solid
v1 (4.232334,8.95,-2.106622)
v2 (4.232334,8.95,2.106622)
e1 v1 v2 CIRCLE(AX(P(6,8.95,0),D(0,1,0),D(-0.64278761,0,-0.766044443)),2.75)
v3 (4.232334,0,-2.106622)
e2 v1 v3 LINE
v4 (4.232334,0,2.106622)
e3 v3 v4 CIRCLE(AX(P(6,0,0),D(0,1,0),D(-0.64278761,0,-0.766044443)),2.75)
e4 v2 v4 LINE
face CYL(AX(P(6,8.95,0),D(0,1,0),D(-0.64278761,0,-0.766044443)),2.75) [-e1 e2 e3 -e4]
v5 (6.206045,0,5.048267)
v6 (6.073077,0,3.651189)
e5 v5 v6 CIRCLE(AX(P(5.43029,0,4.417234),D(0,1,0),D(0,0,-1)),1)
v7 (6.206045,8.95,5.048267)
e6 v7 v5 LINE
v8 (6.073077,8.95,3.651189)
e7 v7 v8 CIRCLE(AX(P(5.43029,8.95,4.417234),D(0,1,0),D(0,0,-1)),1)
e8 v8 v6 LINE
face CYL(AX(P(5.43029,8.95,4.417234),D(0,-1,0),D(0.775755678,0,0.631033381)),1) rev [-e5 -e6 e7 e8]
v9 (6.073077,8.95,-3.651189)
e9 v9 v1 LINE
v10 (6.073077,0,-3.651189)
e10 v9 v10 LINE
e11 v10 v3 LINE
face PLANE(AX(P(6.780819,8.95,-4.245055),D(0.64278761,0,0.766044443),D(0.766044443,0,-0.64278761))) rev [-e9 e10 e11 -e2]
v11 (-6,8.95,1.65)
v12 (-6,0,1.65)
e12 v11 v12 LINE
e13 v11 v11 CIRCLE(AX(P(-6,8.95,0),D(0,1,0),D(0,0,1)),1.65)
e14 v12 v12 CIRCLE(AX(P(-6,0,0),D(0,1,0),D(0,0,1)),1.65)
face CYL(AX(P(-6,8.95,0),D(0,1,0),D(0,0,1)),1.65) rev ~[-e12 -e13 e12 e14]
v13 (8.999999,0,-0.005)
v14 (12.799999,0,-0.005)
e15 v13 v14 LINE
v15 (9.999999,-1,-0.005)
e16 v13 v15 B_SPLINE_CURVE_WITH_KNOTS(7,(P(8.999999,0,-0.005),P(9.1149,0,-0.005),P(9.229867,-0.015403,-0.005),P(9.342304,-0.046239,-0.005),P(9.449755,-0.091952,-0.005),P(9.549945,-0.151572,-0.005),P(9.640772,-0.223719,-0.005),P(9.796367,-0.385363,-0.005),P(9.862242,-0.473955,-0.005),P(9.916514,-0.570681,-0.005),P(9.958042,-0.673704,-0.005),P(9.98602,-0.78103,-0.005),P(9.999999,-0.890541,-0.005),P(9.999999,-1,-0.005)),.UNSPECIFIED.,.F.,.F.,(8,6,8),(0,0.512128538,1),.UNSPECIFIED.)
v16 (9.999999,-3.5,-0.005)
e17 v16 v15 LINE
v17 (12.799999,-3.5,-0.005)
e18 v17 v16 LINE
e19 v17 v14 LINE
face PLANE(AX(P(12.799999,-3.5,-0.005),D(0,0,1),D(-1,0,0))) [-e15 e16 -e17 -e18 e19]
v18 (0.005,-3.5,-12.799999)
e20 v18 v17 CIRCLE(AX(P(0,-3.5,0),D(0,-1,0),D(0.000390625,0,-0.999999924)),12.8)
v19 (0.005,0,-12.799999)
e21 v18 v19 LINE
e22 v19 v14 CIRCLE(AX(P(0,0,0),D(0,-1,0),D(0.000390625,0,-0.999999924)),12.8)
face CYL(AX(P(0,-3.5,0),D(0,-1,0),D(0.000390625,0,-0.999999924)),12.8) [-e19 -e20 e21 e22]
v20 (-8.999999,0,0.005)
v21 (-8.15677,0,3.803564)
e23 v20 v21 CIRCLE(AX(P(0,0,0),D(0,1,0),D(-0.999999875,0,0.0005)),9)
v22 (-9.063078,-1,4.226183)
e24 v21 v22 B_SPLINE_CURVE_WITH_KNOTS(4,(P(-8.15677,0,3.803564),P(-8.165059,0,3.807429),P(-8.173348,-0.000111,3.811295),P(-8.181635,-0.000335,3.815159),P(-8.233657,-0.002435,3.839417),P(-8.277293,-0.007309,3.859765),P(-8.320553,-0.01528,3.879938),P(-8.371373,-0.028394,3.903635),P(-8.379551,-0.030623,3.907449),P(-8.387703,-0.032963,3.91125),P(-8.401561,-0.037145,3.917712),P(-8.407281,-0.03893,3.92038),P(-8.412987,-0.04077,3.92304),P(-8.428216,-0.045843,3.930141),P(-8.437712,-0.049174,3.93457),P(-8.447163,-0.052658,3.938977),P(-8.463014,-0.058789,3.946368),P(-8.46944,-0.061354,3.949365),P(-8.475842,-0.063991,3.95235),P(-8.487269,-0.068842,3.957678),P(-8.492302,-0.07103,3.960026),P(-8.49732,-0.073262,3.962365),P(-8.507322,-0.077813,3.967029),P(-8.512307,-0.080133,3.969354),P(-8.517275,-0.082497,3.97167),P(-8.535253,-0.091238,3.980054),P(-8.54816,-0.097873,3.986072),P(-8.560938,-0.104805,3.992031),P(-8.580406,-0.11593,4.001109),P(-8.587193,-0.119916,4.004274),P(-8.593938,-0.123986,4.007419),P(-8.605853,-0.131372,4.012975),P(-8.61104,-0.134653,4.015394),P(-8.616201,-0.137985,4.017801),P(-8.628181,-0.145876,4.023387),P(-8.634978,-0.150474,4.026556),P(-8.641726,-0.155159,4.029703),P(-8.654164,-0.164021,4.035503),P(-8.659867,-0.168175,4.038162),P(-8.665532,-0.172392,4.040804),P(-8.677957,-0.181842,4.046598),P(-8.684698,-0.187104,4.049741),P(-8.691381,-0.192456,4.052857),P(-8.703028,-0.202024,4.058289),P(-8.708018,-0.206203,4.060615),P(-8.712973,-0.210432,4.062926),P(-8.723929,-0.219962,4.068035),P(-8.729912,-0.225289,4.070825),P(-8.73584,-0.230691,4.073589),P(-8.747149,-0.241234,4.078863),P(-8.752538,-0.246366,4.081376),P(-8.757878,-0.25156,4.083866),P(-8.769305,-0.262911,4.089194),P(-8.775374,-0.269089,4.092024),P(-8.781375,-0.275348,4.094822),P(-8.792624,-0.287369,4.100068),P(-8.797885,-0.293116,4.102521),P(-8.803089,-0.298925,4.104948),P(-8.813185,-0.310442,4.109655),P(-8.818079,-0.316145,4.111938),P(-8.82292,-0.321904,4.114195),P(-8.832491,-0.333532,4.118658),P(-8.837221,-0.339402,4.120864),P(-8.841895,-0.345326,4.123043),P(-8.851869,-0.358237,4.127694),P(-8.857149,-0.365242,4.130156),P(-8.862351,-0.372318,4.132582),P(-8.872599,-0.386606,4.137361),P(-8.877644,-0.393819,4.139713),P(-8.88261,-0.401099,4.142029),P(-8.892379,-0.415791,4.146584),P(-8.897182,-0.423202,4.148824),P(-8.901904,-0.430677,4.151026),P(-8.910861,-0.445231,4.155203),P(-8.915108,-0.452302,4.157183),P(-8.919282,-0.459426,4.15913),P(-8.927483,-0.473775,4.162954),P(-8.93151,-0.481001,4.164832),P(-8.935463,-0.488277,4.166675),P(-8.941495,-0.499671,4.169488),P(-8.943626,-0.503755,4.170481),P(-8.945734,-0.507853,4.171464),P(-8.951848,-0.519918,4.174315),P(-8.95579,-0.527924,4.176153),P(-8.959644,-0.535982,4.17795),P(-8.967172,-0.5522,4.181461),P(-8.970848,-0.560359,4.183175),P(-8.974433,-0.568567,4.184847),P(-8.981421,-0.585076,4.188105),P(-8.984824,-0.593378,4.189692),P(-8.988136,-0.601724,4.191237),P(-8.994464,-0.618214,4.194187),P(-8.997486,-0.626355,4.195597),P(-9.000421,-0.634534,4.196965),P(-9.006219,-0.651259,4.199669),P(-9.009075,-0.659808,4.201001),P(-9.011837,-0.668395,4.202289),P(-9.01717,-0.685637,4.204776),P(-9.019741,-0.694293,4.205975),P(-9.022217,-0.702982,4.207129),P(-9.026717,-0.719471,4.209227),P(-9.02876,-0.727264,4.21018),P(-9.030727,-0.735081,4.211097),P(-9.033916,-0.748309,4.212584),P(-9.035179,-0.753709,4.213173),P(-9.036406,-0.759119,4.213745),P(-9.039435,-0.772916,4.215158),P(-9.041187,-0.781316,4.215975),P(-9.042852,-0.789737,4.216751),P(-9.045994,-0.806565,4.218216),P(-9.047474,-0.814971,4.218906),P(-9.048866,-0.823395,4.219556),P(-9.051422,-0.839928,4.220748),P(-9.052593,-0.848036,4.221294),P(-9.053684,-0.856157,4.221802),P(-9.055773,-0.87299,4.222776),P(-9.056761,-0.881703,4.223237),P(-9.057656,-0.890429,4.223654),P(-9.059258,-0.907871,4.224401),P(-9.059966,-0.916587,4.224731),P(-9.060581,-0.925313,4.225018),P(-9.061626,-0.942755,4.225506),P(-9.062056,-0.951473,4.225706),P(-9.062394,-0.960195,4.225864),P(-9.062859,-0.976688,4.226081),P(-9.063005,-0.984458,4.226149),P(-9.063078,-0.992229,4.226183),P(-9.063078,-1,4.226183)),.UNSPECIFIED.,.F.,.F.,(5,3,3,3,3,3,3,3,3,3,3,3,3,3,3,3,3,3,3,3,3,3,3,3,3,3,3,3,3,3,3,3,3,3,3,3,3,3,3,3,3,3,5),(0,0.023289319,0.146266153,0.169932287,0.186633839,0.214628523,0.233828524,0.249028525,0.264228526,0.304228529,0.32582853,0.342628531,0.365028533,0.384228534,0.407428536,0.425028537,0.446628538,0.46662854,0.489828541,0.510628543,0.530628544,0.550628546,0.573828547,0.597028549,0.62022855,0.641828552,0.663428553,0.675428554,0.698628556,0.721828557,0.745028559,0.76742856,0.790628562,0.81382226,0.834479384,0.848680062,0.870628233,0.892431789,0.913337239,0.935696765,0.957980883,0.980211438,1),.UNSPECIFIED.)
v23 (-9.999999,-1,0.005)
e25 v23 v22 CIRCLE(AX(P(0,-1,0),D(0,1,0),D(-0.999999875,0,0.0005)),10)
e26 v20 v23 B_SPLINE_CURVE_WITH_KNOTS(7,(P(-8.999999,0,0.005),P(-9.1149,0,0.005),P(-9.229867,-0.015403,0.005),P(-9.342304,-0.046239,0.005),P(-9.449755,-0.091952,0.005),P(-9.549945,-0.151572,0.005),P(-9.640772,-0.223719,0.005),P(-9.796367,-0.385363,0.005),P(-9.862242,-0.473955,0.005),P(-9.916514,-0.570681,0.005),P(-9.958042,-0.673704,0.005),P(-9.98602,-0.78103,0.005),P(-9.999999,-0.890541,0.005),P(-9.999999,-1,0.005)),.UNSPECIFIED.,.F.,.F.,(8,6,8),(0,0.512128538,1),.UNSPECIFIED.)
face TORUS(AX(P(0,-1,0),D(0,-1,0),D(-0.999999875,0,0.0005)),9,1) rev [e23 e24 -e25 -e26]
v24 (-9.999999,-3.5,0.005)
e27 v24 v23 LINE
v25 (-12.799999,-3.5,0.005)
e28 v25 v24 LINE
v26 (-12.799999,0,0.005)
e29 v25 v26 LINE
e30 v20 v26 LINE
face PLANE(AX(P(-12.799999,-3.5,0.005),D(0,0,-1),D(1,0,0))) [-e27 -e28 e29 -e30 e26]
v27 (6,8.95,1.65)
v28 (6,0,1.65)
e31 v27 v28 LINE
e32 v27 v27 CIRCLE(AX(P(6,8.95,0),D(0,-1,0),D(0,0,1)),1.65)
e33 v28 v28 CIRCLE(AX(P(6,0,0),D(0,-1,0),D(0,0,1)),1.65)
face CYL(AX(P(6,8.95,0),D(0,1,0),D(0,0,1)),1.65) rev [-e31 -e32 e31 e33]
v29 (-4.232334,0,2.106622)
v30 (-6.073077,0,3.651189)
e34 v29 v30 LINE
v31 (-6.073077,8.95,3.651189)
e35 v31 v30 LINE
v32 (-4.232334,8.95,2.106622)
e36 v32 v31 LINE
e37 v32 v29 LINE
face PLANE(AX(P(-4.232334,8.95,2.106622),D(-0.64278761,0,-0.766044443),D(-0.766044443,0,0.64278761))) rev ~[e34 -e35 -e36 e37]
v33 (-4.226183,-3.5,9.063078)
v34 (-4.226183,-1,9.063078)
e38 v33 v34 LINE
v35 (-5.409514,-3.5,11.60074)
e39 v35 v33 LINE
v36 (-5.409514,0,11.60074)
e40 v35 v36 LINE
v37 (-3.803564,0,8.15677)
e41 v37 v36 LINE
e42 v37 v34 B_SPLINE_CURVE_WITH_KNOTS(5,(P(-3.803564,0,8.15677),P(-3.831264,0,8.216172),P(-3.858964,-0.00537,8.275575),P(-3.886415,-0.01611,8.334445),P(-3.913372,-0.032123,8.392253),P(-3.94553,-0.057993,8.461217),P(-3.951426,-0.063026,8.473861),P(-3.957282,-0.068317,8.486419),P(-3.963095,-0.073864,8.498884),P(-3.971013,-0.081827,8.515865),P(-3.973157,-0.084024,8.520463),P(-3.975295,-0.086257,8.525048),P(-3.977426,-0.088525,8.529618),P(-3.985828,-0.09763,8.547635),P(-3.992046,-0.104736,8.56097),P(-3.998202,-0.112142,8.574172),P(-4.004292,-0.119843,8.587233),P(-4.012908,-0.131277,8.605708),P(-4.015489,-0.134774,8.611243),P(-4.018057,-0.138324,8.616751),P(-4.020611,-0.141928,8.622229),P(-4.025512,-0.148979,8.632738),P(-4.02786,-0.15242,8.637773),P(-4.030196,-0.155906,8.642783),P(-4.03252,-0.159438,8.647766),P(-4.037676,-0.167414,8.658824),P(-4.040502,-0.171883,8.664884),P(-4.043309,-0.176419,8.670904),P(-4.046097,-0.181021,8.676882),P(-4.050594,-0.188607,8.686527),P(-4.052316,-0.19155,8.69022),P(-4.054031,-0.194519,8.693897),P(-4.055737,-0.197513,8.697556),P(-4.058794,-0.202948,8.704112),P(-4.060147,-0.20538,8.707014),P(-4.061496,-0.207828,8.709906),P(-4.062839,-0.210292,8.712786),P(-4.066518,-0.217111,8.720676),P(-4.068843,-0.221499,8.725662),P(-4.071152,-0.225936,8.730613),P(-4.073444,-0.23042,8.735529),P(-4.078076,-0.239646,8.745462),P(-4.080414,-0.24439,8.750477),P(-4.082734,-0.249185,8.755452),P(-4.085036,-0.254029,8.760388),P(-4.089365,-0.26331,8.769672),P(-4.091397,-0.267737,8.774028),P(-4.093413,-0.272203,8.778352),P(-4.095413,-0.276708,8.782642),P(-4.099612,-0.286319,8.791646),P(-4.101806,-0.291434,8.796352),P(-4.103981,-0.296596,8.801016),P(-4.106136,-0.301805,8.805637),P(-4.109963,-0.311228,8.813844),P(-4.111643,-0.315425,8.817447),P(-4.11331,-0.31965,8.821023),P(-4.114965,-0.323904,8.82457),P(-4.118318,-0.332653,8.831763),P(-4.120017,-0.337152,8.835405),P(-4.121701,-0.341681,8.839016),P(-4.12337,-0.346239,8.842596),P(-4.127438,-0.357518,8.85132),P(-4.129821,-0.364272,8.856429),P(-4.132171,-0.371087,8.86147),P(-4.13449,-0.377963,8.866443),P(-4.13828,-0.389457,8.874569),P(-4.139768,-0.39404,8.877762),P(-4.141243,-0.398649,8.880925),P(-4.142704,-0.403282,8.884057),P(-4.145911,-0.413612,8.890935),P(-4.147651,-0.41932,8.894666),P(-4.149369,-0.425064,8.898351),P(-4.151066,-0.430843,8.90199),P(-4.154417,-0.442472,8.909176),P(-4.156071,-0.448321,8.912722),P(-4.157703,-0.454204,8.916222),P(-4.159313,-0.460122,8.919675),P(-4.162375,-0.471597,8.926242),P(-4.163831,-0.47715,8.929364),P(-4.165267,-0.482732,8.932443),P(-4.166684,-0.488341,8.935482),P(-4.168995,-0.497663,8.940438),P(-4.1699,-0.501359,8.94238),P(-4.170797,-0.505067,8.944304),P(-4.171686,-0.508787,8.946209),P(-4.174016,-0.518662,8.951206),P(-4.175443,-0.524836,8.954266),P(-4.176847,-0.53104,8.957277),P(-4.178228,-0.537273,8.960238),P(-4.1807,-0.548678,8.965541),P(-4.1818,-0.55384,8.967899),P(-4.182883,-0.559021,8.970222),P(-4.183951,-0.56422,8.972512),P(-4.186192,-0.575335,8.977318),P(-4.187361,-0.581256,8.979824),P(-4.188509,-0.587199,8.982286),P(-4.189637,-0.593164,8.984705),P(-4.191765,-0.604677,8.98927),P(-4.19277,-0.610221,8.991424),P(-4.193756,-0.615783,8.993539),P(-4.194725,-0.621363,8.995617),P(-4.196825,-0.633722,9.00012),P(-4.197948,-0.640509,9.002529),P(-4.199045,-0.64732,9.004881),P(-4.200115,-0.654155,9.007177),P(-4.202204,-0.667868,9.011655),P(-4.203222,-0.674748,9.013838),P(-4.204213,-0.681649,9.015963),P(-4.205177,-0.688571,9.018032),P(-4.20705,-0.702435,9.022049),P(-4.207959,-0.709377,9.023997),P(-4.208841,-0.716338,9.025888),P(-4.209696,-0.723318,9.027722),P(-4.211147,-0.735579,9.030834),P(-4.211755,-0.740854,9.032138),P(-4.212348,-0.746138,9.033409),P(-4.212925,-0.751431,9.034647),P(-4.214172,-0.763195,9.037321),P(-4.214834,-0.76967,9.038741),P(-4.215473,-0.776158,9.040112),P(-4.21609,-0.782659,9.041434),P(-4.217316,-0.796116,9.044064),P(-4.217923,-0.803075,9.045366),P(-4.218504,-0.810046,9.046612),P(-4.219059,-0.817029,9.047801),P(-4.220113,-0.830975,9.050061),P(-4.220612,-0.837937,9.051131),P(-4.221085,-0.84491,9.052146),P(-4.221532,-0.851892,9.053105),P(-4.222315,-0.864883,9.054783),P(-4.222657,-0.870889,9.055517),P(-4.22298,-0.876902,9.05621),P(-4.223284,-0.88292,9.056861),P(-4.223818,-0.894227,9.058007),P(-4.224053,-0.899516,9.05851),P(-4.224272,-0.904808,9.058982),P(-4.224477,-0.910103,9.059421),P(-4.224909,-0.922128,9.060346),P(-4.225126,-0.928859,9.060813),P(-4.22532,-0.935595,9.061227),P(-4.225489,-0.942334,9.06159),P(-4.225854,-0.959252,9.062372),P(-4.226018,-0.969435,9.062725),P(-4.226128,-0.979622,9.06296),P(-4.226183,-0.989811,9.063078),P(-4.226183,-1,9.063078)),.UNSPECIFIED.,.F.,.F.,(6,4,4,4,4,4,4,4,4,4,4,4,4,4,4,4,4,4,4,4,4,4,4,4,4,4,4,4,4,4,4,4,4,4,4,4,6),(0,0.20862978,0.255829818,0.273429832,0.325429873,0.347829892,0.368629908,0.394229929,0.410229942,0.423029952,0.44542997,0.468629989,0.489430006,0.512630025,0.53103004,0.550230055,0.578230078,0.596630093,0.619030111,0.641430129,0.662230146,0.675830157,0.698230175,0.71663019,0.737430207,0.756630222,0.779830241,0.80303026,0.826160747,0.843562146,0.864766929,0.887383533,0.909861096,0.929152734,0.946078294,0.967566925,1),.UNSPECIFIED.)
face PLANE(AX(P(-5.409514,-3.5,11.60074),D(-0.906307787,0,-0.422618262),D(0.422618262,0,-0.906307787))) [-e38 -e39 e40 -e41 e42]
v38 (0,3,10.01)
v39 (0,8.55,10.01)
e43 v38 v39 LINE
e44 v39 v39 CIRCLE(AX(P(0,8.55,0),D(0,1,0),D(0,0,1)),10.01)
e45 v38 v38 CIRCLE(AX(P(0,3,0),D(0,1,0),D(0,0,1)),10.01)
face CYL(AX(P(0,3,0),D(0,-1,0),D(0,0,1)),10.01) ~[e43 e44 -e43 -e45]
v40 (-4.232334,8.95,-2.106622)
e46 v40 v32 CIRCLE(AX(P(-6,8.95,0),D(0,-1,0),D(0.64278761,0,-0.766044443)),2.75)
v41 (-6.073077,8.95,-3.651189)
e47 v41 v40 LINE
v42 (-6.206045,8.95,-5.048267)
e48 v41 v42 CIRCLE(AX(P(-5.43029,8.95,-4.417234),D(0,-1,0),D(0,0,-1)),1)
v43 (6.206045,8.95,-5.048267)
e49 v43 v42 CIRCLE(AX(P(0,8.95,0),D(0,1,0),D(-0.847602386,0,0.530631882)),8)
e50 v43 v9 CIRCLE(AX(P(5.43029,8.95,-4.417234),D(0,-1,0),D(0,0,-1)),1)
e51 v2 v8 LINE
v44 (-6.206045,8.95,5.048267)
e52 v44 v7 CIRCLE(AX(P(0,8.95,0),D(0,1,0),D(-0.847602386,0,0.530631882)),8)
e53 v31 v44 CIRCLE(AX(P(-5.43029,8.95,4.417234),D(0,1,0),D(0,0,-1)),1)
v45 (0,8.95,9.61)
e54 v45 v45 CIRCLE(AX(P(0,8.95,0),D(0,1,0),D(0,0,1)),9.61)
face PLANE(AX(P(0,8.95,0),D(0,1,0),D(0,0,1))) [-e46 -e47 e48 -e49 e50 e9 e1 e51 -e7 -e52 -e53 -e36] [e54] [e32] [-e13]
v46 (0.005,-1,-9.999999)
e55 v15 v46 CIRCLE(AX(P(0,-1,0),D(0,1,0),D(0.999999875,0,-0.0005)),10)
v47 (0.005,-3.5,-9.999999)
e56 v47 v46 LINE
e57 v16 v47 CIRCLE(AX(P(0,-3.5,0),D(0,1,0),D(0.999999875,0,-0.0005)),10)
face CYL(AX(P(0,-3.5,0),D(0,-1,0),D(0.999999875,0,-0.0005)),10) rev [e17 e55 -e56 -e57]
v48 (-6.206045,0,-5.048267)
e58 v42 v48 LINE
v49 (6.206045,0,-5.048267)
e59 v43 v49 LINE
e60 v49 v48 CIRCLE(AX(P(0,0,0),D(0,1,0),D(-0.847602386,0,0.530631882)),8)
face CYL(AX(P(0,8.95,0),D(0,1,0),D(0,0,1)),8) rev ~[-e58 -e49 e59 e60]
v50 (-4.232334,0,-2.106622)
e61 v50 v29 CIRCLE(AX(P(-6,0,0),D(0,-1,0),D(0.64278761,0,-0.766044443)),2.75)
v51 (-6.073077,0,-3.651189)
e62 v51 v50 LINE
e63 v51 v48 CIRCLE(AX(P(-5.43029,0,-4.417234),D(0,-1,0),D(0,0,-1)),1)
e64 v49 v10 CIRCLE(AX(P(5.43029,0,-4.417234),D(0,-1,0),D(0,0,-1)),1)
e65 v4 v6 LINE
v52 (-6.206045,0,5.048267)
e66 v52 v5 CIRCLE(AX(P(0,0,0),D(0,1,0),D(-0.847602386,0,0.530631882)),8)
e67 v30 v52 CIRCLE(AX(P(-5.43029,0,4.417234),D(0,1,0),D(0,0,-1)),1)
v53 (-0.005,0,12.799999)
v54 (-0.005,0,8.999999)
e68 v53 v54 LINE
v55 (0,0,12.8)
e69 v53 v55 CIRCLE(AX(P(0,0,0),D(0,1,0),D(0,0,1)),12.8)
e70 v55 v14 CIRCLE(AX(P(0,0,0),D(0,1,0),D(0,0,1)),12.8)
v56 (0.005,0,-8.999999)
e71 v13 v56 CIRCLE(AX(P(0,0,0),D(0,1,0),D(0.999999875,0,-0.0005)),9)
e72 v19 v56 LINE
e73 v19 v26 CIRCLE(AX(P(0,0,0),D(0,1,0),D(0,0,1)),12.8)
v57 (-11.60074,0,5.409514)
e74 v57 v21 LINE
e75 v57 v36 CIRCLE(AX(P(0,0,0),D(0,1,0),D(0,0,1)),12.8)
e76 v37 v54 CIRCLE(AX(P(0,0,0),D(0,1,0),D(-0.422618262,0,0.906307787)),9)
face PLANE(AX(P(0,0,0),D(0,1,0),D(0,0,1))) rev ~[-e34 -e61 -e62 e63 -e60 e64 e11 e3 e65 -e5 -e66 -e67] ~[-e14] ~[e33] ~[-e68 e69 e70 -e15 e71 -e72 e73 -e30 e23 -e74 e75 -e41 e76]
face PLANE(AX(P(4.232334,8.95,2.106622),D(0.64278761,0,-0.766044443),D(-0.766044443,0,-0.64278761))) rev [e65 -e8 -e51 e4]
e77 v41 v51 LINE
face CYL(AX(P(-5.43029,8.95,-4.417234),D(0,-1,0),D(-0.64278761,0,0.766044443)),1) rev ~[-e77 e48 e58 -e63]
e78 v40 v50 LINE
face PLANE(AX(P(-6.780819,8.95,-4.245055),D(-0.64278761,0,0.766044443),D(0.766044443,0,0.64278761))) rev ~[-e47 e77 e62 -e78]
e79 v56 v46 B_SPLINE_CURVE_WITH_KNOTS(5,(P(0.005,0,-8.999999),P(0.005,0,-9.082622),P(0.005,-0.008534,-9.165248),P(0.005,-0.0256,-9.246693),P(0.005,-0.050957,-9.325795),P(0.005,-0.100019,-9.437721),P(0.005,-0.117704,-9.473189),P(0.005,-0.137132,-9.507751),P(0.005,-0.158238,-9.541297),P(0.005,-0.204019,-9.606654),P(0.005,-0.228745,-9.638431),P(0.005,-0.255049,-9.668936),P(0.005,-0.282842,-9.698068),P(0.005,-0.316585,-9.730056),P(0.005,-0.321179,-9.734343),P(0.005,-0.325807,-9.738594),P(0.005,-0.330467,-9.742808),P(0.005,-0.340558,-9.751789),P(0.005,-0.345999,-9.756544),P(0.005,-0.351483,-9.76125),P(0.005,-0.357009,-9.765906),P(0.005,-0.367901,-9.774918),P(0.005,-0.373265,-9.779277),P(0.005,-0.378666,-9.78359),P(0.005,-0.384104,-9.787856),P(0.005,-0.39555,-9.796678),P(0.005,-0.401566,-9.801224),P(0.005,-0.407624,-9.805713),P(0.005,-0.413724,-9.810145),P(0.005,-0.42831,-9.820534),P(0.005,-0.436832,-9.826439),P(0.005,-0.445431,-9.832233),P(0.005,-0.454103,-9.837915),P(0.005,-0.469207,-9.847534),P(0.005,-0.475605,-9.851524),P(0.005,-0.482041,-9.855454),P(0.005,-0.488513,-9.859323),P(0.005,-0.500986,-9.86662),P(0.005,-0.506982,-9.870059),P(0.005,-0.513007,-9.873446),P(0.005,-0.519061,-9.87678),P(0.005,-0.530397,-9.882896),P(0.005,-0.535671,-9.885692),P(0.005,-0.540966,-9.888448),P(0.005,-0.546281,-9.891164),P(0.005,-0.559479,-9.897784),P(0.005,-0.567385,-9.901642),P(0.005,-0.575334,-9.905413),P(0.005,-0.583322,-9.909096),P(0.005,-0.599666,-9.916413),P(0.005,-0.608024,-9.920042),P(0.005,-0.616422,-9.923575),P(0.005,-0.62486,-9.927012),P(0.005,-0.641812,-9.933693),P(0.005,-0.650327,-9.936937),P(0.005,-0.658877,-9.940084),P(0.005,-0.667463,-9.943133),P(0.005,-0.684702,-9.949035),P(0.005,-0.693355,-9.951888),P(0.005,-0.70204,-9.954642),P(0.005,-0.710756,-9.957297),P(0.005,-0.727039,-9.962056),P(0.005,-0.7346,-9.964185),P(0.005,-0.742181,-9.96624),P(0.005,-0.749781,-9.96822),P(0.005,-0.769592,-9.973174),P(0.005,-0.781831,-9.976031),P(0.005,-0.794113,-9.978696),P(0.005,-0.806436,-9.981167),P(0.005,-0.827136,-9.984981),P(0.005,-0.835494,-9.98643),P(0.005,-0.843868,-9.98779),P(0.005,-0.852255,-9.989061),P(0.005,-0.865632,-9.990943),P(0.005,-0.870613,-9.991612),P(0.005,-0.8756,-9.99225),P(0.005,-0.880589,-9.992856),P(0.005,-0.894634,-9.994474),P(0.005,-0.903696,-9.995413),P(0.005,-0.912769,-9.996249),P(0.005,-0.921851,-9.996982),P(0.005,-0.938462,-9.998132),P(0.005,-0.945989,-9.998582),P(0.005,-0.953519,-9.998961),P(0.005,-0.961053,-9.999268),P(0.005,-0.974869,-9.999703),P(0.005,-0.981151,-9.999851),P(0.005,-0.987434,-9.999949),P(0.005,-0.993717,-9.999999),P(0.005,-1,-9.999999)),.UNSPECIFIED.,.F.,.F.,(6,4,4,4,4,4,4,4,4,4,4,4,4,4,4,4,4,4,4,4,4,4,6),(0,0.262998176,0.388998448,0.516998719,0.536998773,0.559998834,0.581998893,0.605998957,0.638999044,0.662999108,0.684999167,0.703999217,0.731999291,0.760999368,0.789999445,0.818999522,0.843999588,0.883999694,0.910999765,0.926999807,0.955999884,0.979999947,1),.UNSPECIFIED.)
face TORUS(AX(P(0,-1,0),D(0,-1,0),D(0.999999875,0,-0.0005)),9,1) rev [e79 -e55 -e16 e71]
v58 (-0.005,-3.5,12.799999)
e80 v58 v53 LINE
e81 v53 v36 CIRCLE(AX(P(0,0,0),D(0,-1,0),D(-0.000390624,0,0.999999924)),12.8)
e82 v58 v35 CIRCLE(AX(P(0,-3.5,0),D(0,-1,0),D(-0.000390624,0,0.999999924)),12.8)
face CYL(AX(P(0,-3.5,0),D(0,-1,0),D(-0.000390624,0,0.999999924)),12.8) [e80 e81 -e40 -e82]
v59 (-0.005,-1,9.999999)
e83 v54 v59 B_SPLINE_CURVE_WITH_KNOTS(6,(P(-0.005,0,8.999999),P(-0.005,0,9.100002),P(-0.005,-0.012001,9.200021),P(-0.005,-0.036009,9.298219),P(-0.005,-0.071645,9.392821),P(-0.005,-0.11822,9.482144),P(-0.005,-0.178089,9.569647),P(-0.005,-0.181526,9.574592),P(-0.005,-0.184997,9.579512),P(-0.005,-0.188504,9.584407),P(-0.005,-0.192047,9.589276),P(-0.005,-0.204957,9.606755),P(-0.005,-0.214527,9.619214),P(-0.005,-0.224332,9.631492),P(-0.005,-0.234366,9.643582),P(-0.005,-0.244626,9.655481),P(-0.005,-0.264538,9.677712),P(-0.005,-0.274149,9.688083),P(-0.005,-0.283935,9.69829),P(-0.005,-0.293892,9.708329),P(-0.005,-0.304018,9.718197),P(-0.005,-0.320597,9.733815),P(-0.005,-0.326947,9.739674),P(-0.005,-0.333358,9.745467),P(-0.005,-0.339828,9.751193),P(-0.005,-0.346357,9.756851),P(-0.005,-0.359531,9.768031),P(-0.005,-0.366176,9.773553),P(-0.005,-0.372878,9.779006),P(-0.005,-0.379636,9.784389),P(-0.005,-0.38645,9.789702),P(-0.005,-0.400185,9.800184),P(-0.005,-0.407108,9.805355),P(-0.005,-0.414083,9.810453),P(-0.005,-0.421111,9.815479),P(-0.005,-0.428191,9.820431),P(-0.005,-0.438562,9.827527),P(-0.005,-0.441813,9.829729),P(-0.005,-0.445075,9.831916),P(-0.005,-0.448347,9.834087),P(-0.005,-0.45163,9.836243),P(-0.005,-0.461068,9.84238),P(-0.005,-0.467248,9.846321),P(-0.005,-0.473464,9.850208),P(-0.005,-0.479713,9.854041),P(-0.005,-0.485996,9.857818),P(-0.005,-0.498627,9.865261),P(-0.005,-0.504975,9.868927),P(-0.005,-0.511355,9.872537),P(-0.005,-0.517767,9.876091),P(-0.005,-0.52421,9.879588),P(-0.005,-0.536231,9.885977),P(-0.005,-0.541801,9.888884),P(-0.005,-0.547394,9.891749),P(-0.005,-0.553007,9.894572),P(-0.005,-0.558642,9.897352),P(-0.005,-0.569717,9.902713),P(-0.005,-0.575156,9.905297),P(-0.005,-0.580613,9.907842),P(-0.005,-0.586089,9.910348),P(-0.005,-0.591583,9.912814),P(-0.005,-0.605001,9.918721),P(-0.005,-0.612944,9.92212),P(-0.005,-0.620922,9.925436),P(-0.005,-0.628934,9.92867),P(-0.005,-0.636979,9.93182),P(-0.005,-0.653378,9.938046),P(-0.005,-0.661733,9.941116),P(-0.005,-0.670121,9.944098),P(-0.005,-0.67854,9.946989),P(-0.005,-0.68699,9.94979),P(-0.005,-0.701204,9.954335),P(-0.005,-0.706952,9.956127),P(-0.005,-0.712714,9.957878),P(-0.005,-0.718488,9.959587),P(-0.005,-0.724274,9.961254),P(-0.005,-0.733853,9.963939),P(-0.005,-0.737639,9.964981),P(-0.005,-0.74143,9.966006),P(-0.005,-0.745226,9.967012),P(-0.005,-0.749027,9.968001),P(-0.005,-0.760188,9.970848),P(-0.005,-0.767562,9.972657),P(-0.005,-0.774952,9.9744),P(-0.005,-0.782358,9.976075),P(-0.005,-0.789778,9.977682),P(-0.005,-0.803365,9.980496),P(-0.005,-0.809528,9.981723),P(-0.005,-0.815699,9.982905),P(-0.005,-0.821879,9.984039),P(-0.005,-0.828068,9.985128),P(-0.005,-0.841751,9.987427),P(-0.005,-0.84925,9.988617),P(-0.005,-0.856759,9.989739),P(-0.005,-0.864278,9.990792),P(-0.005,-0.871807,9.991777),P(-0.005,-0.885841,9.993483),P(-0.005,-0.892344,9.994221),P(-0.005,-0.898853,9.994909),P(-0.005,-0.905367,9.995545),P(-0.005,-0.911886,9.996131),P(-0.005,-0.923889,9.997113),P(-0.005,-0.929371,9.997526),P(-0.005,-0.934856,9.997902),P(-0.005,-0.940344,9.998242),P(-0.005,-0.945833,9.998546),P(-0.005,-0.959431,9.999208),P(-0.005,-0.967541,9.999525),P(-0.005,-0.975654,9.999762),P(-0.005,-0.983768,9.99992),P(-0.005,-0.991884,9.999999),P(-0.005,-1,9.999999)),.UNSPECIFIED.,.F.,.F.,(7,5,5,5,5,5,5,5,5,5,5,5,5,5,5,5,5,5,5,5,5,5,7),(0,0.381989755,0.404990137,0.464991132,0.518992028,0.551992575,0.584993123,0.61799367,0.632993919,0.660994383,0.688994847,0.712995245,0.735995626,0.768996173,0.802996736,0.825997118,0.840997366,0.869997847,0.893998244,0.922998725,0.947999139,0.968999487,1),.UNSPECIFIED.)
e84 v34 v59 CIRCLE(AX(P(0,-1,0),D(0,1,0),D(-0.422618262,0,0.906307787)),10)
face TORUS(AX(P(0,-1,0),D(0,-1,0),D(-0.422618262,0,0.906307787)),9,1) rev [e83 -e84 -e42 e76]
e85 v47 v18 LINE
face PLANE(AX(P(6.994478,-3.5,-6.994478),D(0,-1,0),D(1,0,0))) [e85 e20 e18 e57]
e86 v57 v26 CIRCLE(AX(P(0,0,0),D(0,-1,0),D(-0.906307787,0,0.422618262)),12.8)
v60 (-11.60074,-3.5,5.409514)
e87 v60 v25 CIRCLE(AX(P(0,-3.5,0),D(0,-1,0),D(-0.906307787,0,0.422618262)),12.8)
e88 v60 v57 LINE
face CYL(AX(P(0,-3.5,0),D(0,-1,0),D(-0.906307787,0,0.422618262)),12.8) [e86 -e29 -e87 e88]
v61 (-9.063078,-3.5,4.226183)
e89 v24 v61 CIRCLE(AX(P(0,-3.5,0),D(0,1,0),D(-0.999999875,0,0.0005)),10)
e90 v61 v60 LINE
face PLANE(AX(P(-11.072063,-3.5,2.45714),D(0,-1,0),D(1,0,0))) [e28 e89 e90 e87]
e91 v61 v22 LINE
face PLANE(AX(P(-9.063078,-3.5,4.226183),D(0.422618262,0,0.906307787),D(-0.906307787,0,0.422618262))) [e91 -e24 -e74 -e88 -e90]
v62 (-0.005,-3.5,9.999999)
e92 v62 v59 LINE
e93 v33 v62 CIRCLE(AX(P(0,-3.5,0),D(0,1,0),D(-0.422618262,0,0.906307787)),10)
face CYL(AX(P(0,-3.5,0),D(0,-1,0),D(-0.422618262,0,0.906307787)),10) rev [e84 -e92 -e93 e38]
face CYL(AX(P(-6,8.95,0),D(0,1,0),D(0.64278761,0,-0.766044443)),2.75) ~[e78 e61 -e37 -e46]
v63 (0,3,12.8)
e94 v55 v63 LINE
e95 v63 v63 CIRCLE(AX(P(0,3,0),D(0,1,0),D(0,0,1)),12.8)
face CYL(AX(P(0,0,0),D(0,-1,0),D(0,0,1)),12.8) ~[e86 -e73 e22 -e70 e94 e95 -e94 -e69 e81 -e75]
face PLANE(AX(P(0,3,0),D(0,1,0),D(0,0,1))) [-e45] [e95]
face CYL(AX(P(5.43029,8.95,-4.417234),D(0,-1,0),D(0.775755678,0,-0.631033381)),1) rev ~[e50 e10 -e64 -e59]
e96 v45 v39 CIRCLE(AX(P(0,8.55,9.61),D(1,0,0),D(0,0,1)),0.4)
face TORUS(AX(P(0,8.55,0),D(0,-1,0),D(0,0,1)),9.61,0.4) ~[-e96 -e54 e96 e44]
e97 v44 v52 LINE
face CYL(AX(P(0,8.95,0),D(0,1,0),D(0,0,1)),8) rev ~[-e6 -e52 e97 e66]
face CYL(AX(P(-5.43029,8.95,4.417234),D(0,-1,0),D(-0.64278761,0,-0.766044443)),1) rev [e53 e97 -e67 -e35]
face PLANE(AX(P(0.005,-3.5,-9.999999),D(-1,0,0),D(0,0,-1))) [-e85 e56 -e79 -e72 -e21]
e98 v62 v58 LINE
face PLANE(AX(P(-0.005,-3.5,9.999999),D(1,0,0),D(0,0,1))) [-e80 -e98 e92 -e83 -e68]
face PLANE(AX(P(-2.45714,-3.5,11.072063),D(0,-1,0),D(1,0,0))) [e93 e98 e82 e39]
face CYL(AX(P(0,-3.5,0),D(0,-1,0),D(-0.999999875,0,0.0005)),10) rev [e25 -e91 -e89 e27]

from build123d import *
from build123d.topology import SkipClean

# Parameters (mm, degrees)
SKETCH_1_R             = 12.8
EXTRUDE_1_DEPTH        = 3
SKETCH_2_R             = 10.01
EXTRUDE_2_DEPTH        = 5.95
SKETCH_3_R             = 8
CUT_EXTRUDE_1_DEPTH    = 21.193625232
EXTRUDE_START          = 8.95
SKETCH_4_R             = 1.65
EXTRUDE_3_DEPTH        = 8.95
FILLET_1_R             = 1
FILLET_1_OF_MIRROR_1_R = 1
FILLET_2_R             = 0.4
EXTRUDE_START_2        = 3.5
EXTRUDE_4_DEPTH        = 3.5
FILLET_3_R             = 1


with BuildPart() as part:
    # 草图1 → 凸台-拉伸1 (new body)
    with BuildSketch(Plane(origin=(0, 0, 0), x_dir=(1, 0, 0), z_dir=(0, 1, 0))):
        with Locations(Location((0, 0, 0), (0, 0, 270))):
            Circle(SKETCH_1_R)
    extrude(amount=EXTRUDE_1_DEPTH)

    # 草图2 → 凸台-拉伸2 (add)
    with BuildSketch(Plane(origin=(0, 3, 0), x_dir=(1, 0, 0), z_dir=(0, 1, 0))):
        with Locations(Location((0, 0, 0), (0, 0, 270))):
            Circle(SKETCH_2_R)
    extrude(amount=EXTRUDE_2_DEPTH)

    # 草图3 → 切除-拉伸1 (cut, through all)
    with BuildSketch(Plane(origin=(0, 8.95, 0), x_dir=(1, 0, 0), z_dir=(0, 1, 0))):
        with Locations(Location((0, 0, 0), (0, 0, 270))):
            Circle(SKETCH_3_R)
    extrude(amount=-CUT_EXTRUDE_1_DEPTH, mode=Mode.SUBTRACT)

    # 草图4 → 凸台-拉伸3 (add)
    with BuildSketch(Plane(origin=(0, 0, 0), x_dir=(1, 0, 0), z_dir=(0, 1, 0)).offset(EXTRUDE_START)):
        with BuildLine():
            Line((-6.780819092, 4.245055058), (-4.232334073, 2.106622219))
            ThreePointArc((-4.232334073, 2.106622219), (-3.25, 0), (-4.232334073, -2.106622219))
            Line((-4.232334073, -2.106622219), (-6.780819092, -4.245055058))
            ThreePointArc((-6.780819092, -4.245055058), (-8, 0), (-6.780819092, 4.245055058))
        make_face()
        with Locations(Location((-6, 0, 0), (0, 0, 270))):
            Circle(SKETCH_4_R, mode=Mode.SUBTRACT)
    extrude_3 = extrude(amount=-EXTRUDE_3_DEPTH)

    # 圆角1
    fillet_1_edges = [part.edges().sort_by_distance(p)[0] for p in [
        (-6.780819092, 4.475, 4.245055058),
        (-6.780819092, 4.475, -4.245055058),
    ]]
    fillet(fillet_1_edges, radius=FILLET_1_R)

    # 镜向1: 凸台-拉伸3 across plane
    add(extrude_3.mirror(Plane(origin=(0, 0, 0), x_dir=(0, 0, 1), z_dir=(1, 0, 0))))

    # 圆角1 of 镜向1
    fillet_1_of_mirror_1_edges = [part.edges().sort_by_distance(p)[0] for p in [
        (6.780819092, 4.475, 4.245055058),
        (6.780819092, 4.475, -4.245055058),
    ]]
    fillet(fillet_1_of_mirror_1_edges, radius=FILLET_1_OF_MIRROR_1_R)

    # 圆角2
    fillet_2_edges = [part.edges().sort_by_distance(p)[0] for p in [
        (0, 8.95, -10.01),
    ]]
    fillet(fillet_2_edges, radius=FILLET_2_R)

    # 草图5 → 凸台-拉伸4 (add)
    with SkipClean():  # the faces are left unmerged after this step: merging them gives an invalid solid
        with BuildSketch(Plane.XZ.offset(EXTRUDE_START_2)):
            with BuildLine():
                ThreePointArc((0.005, -12.799999023), (9.050966799, -9.050966799), (12.799999023, -0.005))
                Line((12.799999023, -0.005), (9.99999875, -0.005))
                ThreePointArc((9.99999875, -0.005), (7.071067812, -7.071067812), (0.005, -9.99999875))
                Line((0.005, -9.99999875), (0.005, -12.799999023))
            make_face()
            with BuildLine():
                Line((-9.06307787, 4.226182617), (-11.600739674, 5.40951375))
                ThreePointArc((-11.600739674, 5.40951375), (-12.496047554, 2.772867746), (-12.799999023, 0.005))
                Line((-12.799999023, 0.005), (-9.99999875, 0.005))
                ThreePointArc((-9.99999875, 0.005), (-9.762418667, 2.166836812), (-9.06307787, 4.226182617))
            make_face()
            with BuildLine():
                Line((-0.005, 9.99999875), (-0.005, 12.799999023))
                ThreePointArc((-0.005, 12.799999023), (-2.772867746, 12.496047554), (-5.40951375, 11.600739674))
                Line((-5.40951375, 11.600739674), (-4.226182617, 9.06307787))
                ThreePointArc((-4.226182617, 9.06307787), (-2.166836812, 9.762418667), (-0.005, 9.99999875))
            make_face()
        extrude(amount=-EXTRUDE_4_DEPTH)

    # 圆角3
    fillet_3_edges = [part.edges().sort_by_distance(p)[0] for p in [
        (-2.166836812, 0, 9.762418667),
        (7.071067812, 0, -7.071067812),
        (-9.762418667, 0, 2.166836812),
    ]]
    fillet(fillet_3_edges, radius=FILLET_3_R)


solid = part.part
